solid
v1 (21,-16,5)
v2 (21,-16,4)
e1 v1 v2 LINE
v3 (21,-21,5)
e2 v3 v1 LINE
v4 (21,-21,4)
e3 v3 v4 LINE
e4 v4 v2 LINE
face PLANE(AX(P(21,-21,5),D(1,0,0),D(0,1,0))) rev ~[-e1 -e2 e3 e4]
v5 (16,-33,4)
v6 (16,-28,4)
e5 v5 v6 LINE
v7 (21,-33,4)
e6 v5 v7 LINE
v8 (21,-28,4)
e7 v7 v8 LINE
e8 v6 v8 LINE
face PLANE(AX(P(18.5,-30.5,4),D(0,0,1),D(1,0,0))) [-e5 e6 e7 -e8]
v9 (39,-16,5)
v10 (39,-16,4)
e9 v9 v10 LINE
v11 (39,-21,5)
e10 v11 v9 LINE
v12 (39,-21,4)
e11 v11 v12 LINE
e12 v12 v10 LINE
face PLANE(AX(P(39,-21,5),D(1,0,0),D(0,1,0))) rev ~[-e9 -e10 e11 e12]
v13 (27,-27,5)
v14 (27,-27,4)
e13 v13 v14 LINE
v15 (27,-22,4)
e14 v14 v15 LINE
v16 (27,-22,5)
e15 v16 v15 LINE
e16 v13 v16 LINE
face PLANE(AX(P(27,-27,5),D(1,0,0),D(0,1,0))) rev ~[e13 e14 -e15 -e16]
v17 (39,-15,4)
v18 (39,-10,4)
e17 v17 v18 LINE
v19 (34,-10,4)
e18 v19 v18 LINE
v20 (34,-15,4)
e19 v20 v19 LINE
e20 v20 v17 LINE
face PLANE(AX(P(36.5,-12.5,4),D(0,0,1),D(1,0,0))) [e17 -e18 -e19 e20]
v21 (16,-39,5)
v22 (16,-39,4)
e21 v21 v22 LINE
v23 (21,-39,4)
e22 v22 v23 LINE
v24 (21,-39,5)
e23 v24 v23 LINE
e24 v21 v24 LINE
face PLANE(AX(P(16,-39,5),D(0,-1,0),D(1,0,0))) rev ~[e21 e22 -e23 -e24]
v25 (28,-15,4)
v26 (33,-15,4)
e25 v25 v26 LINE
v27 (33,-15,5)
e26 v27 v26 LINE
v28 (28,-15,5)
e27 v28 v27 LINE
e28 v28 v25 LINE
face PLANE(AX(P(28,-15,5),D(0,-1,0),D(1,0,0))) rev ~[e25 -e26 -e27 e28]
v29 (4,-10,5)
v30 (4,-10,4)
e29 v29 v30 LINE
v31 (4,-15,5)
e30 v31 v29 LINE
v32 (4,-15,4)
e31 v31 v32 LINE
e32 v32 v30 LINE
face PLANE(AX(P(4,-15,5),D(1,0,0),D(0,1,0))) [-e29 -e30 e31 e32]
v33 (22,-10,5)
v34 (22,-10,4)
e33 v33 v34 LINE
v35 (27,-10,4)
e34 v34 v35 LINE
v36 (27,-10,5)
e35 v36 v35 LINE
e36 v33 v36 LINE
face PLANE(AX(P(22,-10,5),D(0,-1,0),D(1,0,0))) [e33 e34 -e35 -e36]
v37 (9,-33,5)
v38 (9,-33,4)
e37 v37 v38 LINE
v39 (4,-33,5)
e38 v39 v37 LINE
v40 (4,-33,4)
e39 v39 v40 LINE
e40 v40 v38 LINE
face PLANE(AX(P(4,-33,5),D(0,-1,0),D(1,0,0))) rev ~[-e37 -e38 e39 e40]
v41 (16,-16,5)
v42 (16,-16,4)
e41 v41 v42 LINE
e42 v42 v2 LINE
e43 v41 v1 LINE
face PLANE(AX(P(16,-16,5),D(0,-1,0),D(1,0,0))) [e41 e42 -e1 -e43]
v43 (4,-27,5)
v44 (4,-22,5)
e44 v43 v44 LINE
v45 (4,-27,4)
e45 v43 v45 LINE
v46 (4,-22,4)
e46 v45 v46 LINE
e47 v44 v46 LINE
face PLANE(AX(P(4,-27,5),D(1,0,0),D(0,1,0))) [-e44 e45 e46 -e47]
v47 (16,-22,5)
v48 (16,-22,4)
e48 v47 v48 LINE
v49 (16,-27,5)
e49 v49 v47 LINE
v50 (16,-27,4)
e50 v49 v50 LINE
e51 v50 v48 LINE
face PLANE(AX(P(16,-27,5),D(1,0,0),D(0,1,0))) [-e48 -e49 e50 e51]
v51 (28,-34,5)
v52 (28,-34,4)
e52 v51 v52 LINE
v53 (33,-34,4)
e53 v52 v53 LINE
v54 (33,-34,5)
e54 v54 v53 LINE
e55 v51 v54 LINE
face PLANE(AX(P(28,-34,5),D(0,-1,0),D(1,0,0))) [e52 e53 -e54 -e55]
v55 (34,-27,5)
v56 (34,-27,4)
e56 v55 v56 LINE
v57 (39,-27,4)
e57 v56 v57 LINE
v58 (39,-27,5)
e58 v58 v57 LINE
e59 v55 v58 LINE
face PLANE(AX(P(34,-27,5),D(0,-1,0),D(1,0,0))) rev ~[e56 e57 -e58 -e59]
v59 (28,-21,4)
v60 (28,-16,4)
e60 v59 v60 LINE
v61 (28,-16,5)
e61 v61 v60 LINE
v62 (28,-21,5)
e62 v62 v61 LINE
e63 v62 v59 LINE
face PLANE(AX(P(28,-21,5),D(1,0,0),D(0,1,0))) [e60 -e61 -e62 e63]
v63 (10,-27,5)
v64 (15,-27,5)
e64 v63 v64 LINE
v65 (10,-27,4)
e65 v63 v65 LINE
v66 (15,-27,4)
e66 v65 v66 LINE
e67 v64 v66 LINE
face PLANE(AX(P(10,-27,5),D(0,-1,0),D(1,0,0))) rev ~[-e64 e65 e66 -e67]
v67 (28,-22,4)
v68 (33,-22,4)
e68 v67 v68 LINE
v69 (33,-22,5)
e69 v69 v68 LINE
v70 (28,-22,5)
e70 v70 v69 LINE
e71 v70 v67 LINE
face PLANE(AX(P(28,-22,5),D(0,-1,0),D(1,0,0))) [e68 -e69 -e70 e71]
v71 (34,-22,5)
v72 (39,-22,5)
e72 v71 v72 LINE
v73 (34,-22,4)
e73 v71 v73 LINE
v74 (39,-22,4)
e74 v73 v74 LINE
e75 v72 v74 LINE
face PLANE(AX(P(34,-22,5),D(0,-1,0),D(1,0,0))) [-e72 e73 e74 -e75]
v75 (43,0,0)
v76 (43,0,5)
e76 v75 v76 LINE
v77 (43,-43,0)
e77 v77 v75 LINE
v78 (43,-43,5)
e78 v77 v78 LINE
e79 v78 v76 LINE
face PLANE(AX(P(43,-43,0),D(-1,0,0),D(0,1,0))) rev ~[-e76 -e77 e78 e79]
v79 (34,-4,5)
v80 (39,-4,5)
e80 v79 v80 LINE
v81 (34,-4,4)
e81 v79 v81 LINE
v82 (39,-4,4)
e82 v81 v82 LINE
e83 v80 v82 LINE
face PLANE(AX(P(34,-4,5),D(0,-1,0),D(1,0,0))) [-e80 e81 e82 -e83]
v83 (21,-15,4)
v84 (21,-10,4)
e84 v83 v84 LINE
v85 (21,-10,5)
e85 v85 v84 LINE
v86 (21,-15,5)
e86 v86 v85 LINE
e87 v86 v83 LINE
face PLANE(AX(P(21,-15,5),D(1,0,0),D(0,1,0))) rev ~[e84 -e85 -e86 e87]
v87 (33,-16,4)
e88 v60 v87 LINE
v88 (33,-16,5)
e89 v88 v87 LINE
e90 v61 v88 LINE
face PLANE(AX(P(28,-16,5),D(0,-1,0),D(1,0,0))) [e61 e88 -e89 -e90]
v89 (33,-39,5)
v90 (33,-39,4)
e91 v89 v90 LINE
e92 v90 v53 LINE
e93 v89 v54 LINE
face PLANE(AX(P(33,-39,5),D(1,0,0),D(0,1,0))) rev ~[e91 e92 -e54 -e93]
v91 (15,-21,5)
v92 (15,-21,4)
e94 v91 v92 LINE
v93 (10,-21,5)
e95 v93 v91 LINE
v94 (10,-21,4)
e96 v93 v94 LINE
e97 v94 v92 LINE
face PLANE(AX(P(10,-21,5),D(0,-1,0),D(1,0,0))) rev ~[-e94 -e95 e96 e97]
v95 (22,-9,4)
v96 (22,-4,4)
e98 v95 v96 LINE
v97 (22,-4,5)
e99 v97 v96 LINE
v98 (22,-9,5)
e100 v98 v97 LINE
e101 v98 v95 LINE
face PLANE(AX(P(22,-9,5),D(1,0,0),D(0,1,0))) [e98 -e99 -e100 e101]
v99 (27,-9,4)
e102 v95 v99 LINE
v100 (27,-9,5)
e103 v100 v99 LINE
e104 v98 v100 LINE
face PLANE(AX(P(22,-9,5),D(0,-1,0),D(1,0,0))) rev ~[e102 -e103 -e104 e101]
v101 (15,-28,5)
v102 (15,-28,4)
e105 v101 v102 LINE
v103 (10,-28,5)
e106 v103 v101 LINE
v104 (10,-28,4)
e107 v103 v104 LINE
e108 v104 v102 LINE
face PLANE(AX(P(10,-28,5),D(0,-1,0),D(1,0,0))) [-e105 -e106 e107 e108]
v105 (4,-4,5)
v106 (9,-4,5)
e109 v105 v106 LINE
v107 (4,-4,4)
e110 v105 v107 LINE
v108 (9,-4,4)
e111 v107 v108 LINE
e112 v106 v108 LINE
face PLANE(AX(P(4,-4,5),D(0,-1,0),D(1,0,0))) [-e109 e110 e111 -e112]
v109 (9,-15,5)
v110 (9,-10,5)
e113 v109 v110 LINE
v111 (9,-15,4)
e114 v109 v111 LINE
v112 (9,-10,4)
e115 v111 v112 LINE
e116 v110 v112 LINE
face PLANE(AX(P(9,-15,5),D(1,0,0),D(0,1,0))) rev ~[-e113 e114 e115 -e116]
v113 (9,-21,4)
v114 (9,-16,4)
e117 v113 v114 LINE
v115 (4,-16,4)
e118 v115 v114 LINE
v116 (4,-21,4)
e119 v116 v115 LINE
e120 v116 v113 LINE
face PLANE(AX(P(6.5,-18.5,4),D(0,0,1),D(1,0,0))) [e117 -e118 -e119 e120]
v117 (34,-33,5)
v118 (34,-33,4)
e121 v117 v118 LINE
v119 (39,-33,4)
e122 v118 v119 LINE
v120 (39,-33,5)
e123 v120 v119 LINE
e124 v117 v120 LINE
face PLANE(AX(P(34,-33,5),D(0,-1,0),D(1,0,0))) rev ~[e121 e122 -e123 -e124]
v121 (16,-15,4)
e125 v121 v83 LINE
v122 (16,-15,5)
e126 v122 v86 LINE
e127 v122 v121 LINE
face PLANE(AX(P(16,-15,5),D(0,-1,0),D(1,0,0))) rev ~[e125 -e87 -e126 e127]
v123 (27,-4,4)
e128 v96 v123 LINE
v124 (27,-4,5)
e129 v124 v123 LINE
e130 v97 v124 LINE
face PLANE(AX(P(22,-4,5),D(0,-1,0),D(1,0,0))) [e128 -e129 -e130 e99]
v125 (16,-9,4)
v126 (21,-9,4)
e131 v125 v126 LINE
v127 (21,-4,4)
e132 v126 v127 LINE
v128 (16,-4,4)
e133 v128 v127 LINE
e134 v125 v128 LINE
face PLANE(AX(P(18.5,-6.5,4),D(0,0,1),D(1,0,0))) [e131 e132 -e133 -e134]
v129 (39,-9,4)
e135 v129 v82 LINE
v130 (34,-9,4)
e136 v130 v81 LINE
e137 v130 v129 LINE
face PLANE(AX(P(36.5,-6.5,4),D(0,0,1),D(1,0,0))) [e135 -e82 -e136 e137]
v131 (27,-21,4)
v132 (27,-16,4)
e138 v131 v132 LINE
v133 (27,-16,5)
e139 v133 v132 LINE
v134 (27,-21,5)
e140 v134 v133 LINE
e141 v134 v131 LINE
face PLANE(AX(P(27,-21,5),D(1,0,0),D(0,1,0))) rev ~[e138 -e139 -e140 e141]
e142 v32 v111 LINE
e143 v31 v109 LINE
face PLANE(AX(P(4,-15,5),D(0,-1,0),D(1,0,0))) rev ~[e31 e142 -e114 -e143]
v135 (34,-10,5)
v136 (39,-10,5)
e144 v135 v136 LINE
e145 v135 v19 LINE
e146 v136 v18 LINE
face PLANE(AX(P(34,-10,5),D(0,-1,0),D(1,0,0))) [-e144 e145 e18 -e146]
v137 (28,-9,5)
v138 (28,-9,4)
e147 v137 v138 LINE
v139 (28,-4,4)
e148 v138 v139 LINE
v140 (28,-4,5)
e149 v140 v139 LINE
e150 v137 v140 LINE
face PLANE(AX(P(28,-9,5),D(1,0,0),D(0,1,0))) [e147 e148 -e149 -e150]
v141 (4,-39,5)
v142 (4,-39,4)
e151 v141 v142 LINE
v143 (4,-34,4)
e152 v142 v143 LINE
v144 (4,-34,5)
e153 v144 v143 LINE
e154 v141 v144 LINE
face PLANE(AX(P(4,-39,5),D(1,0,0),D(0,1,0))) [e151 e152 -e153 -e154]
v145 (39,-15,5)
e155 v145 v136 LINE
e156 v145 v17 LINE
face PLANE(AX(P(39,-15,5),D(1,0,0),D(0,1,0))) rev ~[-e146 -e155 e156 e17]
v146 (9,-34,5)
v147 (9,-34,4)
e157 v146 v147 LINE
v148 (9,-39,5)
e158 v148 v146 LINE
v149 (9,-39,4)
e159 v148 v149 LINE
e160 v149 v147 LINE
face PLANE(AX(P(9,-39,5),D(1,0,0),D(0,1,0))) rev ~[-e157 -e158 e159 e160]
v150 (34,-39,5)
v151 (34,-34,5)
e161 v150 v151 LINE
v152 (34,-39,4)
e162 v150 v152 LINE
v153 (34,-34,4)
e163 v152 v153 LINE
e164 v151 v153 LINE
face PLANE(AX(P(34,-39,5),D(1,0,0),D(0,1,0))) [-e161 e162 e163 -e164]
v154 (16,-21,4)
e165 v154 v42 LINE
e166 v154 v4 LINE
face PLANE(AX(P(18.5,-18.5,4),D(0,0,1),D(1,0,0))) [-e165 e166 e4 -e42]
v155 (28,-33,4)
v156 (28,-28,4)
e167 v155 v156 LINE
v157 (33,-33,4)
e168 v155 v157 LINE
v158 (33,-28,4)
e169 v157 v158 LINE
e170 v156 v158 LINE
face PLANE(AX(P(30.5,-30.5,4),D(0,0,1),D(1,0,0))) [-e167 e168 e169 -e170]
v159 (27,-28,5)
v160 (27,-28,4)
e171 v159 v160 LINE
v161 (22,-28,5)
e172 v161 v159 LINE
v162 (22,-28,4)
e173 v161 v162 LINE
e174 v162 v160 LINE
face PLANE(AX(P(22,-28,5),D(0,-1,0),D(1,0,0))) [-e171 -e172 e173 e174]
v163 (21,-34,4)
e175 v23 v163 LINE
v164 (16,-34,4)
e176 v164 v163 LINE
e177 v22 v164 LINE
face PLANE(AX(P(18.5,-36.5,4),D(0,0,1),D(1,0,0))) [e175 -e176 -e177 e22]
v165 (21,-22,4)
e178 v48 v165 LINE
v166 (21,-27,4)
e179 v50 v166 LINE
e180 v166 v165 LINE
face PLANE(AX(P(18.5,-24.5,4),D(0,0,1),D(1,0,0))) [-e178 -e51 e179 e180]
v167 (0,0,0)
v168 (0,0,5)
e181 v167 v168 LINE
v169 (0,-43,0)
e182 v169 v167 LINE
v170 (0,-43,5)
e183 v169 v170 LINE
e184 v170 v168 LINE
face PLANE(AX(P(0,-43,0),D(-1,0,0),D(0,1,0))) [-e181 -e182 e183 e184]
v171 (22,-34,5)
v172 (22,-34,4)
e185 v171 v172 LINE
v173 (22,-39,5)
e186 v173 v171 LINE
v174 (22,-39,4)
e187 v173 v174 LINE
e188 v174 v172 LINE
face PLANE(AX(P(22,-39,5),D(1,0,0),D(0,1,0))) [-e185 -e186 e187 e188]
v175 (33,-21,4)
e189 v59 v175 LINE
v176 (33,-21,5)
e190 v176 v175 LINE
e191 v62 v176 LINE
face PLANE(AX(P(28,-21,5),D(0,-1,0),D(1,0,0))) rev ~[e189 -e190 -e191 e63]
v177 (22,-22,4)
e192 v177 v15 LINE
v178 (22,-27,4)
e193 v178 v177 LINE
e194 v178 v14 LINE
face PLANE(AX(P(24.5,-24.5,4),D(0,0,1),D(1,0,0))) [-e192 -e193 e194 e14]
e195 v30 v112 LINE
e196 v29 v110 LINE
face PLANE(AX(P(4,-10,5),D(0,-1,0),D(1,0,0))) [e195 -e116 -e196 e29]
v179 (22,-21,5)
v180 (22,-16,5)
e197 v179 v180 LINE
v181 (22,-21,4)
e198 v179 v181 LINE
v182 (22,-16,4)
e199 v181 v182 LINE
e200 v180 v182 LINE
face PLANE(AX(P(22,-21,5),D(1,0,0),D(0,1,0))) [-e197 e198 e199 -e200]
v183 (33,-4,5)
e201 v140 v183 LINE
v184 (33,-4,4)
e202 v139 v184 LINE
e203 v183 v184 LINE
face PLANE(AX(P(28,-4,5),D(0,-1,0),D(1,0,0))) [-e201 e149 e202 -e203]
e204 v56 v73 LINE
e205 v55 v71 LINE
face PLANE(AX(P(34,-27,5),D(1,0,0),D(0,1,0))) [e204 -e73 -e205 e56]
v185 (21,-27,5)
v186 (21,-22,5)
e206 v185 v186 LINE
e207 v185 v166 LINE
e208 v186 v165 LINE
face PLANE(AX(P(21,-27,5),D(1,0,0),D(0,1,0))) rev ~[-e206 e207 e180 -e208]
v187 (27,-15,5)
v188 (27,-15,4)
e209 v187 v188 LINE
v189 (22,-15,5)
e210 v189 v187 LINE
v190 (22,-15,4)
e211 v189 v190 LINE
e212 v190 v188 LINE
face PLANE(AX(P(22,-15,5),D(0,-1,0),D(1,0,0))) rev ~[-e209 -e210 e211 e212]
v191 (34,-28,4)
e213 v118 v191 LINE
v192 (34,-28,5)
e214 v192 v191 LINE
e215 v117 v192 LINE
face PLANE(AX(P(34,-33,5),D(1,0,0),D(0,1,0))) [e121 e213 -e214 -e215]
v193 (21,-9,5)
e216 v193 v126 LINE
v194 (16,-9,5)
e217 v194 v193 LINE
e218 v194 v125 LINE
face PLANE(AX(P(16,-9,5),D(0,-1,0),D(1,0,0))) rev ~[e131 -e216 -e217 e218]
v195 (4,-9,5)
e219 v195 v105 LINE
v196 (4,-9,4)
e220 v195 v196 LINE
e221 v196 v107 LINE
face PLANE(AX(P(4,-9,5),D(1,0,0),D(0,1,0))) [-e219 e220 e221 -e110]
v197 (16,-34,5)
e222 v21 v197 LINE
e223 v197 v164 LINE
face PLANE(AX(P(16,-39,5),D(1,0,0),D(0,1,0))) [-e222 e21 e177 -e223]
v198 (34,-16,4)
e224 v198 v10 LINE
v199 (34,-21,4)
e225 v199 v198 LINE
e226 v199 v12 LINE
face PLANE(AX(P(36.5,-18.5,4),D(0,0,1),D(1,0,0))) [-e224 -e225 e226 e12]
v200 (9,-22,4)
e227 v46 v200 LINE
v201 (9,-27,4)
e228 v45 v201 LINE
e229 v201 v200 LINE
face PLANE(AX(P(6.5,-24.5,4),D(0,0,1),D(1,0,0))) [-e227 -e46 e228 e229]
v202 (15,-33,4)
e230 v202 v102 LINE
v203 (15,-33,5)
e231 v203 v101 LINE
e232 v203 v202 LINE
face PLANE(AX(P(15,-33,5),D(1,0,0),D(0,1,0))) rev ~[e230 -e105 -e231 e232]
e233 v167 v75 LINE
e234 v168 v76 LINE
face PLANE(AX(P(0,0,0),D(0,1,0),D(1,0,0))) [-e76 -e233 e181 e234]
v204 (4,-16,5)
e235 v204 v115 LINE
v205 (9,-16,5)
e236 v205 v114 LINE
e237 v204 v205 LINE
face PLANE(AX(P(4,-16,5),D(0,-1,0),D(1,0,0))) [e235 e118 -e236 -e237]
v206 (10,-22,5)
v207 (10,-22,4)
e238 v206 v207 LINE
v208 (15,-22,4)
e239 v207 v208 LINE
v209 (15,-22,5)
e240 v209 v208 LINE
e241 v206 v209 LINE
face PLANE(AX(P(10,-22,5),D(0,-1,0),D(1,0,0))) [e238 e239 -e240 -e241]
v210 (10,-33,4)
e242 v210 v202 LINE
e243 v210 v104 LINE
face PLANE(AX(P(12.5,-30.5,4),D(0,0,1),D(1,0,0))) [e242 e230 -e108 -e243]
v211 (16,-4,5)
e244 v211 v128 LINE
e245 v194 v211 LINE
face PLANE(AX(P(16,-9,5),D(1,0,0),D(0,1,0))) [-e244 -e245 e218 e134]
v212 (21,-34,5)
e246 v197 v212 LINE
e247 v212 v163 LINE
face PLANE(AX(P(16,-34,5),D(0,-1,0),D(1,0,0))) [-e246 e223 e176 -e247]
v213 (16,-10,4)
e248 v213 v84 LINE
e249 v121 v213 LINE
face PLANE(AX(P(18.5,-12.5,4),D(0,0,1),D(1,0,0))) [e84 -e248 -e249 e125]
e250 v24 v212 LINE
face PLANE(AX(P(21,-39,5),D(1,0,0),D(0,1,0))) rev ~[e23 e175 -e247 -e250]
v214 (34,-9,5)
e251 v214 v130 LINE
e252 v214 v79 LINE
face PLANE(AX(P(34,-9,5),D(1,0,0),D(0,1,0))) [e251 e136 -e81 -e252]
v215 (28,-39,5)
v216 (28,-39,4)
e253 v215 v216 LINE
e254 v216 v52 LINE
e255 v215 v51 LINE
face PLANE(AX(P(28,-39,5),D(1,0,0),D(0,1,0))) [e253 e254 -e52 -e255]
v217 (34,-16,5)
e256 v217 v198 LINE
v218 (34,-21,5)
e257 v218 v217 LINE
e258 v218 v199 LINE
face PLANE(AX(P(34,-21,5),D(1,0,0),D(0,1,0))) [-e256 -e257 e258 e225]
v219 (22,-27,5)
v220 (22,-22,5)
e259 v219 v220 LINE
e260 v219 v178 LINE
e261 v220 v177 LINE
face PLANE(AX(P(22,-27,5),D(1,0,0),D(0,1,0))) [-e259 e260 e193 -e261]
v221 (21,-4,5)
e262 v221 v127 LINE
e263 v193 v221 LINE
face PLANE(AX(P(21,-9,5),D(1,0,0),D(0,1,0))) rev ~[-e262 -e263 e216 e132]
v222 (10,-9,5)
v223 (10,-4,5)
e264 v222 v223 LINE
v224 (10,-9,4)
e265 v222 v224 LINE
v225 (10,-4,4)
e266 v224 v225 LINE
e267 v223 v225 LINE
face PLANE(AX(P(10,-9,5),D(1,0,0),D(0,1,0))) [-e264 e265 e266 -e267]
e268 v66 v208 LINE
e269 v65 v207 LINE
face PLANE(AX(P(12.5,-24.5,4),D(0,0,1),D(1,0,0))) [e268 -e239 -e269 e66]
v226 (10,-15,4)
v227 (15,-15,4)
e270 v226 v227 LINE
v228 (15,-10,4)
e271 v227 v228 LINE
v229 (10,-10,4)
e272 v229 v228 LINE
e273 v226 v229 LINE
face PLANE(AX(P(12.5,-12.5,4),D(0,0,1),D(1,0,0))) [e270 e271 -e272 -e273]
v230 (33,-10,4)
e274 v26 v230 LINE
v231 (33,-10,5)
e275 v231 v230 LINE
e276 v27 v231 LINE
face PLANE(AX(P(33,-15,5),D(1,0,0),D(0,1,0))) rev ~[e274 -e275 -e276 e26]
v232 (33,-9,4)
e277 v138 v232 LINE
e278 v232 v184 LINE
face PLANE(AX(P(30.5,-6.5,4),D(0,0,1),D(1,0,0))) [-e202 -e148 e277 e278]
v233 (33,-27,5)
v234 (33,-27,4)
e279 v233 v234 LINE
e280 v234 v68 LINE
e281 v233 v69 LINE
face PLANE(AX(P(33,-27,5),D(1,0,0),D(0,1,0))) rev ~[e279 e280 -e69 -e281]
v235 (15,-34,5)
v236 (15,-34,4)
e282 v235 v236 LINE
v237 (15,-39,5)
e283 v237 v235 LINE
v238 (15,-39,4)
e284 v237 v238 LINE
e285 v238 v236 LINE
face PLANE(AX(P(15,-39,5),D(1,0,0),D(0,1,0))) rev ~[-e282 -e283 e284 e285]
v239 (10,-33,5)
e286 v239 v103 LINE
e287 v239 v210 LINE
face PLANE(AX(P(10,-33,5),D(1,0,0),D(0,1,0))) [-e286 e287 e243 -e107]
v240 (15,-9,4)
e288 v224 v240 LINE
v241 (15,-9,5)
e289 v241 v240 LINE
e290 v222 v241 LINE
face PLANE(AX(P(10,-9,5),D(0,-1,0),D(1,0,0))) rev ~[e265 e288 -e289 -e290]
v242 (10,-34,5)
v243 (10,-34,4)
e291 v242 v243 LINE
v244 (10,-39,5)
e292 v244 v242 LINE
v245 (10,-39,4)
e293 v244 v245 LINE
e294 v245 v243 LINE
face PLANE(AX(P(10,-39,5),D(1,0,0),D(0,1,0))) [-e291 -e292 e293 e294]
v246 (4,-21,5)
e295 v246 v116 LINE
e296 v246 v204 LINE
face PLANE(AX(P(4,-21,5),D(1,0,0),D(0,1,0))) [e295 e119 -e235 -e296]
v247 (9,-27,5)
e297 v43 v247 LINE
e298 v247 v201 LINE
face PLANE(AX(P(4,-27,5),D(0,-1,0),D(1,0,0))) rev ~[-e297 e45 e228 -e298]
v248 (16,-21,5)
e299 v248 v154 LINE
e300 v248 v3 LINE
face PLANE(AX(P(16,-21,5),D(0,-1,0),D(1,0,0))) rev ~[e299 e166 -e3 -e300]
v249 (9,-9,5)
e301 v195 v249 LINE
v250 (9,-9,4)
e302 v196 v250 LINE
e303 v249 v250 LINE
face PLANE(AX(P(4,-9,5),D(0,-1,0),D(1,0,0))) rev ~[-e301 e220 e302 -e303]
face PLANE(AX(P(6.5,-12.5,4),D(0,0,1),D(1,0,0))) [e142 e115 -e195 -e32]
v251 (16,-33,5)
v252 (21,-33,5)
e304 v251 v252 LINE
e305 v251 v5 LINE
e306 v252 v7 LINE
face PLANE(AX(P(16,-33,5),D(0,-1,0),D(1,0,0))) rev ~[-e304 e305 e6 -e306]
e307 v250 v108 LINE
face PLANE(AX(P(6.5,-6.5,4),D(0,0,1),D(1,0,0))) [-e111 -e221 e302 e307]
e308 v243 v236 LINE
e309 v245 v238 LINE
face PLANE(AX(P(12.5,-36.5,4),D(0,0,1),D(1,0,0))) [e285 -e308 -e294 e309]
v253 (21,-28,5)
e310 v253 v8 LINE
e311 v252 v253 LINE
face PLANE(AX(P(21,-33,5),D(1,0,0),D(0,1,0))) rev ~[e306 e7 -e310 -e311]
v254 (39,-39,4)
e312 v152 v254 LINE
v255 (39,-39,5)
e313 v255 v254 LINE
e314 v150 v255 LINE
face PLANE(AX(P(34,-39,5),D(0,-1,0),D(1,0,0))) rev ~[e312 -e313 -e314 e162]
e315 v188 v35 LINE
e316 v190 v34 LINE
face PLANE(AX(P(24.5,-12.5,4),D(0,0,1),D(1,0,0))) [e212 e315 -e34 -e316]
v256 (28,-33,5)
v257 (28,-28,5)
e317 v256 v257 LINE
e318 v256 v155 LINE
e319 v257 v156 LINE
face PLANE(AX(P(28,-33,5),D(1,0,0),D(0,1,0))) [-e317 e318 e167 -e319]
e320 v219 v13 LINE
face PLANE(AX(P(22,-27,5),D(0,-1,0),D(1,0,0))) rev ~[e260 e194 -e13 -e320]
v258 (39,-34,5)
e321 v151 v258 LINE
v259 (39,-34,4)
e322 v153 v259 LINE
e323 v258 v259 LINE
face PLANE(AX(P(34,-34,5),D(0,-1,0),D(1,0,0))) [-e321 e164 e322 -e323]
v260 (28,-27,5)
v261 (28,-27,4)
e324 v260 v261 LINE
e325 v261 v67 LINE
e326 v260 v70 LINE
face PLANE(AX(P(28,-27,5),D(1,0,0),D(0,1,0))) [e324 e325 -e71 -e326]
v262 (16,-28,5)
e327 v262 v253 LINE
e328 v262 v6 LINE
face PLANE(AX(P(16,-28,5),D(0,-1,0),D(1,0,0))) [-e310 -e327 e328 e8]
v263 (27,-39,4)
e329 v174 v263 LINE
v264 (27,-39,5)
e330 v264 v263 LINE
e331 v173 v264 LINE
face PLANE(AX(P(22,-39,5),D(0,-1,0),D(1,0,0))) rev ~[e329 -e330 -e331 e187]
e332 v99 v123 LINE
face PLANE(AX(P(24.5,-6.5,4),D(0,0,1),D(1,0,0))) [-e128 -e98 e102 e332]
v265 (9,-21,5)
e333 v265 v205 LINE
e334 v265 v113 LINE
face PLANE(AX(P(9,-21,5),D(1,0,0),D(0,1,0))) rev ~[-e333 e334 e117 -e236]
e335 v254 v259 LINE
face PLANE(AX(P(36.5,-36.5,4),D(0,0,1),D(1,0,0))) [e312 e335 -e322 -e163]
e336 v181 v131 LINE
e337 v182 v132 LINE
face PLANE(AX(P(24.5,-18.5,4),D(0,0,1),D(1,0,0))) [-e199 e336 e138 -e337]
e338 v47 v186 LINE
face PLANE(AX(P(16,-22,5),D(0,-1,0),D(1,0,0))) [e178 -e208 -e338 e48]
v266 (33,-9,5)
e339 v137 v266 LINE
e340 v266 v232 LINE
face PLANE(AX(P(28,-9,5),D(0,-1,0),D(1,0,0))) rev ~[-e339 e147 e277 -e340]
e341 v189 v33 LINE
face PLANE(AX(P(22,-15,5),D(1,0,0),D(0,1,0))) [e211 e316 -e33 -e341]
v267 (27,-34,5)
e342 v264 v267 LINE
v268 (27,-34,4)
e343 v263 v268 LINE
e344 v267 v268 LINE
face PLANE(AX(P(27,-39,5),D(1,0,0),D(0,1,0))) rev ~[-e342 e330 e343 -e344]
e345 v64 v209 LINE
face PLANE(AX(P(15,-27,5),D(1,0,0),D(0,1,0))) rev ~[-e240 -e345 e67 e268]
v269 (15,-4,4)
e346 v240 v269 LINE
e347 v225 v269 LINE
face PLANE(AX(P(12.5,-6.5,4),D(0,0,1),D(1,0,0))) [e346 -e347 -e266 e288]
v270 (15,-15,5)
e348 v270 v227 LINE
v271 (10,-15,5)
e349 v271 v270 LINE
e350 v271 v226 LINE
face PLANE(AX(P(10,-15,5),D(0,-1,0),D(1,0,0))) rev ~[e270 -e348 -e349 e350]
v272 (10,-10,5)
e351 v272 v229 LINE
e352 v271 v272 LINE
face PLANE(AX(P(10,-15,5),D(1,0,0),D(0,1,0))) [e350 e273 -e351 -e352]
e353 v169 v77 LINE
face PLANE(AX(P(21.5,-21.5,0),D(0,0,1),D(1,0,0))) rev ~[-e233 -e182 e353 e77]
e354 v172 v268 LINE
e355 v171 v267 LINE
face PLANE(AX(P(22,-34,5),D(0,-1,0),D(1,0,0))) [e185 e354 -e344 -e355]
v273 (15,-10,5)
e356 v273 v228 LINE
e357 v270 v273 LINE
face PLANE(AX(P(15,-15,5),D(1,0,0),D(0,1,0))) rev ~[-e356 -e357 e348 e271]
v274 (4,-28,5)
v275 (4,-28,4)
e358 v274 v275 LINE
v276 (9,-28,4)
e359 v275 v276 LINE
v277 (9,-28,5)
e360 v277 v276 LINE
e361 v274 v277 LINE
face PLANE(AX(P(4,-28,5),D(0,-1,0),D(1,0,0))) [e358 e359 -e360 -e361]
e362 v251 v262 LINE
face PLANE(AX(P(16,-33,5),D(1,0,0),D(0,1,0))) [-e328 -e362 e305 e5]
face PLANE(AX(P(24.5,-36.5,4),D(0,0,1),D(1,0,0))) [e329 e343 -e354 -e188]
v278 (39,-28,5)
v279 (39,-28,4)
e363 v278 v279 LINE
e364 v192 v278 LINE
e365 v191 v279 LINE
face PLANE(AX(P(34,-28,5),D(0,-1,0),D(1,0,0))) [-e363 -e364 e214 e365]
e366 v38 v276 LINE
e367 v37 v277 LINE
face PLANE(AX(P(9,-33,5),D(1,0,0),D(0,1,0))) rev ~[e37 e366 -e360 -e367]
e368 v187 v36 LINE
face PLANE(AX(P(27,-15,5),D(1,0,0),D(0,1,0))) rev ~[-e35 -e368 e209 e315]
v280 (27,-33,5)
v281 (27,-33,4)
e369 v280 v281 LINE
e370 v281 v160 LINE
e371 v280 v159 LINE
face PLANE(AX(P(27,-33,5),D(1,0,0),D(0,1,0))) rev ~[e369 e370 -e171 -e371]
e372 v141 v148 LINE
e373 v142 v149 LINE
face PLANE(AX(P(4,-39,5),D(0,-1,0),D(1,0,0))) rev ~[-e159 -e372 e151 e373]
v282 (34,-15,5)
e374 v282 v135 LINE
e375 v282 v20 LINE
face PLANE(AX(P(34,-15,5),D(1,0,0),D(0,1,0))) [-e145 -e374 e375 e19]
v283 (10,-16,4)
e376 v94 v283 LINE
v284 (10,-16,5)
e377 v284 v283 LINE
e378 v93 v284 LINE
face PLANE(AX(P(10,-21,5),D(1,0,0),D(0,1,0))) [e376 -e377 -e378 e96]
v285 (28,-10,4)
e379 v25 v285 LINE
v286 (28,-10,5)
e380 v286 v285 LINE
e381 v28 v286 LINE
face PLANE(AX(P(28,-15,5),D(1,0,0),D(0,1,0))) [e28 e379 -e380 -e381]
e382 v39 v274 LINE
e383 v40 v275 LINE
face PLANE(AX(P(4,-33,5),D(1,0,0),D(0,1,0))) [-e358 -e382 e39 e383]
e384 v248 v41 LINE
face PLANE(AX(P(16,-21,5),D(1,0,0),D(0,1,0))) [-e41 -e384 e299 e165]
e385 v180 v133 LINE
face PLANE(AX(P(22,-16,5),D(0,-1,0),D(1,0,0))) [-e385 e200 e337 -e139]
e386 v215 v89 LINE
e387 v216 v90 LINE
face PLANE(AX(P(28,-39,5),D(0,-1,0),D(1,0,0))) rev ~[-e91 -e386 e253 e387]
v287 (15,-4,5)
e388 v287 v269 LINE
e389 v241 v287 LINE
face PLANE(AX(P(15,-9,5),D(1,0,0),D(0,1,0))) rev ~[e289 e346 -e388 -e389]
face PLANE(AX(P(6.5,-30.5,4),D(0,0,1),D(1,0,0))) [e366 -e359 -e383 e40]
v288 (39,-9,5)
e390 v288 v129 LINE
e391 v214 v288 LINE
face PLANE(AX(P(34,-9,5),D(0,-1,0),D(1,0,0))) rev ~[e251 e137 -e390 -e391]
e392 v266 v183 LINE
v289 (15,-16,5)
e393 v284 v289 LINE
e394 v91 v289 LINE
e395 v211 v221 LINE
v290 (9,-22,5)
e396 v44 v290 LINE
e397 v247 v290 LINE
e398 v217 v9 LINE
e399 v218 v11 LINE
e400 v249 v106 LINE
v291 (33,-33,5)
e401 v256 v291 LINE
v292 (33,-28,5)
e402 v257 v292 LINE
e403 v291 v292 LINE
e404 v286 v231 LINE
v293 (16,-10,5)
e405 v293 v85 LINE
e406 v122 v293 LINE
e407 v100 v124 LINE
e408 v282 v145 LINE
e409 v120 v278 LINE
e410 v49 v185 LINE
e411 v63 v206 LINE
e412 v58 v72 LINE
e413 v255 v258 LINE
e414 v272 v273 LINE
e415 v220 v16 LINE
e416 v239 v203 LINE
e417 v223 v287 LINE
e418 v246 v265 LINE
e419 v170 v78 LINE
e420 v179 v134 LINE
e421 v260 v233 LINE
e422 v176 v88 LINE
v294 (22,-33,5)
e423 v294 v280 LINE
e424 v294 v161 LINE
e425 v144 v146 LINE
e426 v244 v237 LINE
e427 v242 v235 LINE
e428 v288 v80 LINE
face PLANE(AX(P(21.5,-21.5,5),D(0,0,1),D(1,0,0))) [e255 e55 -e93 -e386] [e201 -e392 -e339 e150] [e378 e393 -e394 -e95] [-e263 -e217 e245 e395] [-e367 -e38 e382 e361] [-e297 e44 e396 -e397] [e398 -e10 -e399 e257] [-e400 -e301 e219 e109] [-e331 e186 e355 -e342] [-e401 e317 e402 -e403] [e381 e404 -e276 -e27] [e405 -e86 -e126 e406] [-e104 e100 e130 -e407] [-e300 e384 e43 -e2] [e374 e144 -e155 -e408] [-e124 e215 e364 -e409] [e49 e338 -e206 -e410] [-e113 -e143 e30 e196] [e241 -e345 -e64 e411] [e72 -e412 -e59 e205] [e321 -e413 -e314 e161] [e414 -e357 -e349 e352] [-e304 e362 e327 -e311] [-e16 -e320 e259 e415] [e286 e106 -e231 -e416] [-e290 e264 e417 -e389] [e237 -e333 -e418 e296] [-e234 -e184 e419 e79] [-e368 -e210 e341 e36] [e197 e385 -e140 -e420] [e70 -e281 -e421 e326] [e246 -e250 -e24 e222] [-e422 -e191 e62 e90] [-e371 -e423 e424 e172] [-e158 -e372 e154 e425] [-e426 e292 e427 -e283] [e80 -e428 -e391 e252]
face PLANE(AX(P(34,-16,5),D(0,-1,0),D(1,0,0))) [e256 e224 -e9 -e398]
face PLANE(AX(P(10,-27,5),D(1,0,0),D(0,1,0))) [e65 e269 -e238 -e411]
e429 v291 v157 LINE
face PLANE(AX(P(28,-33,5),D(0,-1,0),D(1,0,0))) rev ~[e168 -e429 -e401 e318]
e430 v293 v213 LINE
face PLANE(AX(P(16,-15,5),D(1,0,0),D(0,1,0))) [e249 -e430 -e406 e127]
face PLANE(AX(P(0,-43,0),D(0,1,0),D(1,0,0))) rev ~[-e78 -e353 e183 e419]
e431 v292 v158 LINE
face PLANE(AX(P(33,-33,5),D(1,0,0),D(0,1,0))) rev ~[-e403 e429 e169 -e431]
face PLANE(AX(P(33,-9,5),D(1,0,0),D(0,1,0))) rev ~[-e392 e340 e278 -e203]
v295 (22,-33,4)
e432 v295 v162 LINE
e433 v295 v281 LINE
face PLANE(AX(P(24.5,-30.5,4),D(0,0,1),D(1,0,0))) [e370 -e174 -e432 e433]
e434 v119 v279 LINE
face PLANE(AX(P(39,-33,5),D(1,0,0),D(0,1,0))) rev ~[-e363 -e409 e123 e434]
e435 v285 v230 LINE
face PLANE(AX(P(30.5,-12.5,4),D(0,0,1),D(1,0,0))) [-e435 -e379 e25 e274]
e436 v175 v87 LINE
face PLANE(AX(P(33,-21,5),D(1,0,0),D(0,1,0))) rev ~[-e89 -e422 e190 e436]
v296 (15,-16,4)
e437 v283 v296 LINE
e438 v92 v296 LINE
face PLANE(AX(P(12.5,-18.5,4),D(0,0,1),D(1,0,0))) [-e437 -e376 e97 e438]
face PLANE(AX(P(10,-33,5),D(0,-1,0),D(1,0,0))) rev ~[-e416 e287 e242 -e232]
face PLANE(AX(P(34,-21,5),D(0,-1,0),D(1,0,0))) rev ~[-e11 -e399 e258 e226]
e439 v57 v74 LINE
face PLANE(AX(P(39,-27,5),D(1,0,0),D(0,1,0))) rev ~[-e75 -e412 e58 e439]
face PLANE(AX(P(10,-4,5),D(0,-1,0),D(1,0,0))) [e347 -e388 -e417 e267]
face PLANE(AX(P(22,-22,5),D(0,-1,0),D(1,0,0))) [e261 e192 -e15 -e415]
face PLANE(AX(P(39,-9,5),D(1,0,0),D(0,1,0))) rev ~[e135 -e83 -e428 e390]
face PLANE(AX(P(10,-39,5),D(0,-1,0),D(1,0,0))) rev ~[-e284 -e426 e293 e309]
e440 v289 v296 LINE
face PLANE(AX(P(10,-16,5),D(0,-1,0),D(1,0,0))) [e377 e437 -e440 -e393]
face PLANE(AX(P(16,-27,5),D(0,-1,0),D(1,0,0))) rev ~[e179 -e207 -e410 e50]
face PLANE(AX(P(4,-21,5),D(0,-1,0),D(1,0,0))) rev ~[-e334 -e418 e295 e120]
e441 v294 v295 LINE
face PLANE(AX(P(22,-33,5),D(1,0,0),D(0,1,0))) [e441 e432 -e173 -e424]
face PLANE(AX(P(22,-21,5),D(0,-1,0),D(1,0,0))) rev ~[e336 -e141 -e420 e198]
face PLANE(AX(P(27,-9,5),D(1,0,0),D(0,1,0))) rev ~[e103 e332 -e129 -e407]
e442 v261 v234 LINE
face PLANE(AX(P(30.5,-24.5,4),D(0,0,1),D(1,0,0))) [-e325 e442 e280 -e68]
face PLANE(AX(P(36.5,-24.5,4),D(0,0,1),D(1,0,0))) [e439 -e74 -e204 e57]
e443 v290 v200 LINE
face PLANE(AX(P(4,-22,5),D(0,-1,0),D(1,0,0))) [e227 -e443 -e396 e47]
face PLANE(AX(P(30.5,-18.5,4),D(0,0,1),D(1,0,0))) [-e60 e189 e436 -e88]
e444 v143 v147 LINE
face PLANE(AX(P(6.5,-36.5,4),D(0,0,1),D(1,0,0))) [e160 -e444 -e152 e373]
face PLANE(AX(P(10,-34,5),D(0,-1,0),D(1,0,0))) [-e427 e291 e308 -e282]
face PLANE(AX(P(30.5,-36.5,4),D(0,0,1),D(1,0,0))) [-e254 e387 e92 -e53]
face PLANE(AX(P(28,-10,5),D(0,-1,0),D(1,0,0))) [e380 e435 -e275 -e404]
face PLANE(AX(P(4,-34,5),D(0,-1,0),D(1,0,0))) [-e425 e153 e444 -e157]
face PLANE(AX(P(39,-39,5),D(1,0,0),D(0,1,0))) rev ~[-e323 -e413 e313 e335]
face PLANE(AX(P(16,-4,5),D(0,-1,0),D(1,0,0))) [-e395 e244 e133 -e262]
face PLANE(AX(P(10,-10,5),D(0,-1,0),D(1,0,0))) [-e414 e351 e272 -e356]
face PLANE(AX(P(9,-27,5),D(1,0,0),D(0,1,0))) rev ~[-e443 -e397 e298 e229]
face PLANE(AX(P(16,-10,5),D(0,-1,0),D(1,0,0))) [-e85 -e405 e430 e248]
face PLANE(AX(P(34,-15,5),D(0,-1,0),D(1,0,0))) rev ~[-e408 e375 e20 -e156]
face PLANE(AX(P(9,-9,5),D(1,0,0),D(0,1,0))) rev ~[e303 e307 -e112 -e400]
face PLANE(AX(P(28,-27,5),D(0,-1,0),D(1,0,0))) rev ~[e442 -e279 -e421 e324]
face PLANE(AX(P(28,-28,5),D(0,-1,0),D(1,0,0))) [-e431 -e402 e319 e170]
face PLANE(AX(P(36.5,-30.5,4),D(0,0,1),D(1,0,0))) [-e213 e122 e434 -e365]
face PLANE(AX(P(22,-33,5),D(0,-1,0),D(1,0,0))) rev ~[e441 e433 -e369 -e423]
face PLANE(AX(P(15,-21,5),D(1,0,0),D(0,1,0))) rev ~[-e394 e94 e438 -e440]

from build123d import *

# Parameters (mm, degrees)
F0_W     = 43
F0_H     = 43
F1_DEPTH = 5
F2_W     = 5
F2_H     = 5
F3_DEPTH = 1


with BuildPart() as f1:
    # F0 (on Top) → F1 (new body)
    with BuildSketch(Plane.XY):
        with Locations((21.5, -21.5)):
            Rectangle(F0_W, F0_H)
    extrude(amount=F1_DEPTH)

    # F2 (on face) → F3 (cut)
    with BuildSketch(Plane.XY.offset(5)):
        with Locations((6.5, -6.5)):
            Rectangle(F2_W, F2_H)
        with Locations((6.5, -12.5)):
            Rectangle(F2_W, F2_H)
        with Locations((6.5, -18.5)):
            Rectangle(F2_W, F2_H)
        with Locations((6.5, -24.5)):
            Rectangle(F2_W, F2_H)
        with Locations((18.5, -6.5)):
            Rectangle(F2_W, F2_H)
        with Locations((18.5, -12.5)):
            Rectangle(F2_W, F2_H)
        with Locations((18.5, -18.5)):
            Rectangle(F2_W, F2_H)
        with Locations((30.5, -24.5)):
            Rectangle(F2_W, F2_H)
        with Locations((30.5, -30.5)):
            Rectangle(F2_W, F2_H)
        with Locations((30.5, -36.5)):
            Rectangle(F2_W, F2_H)
        with Locations((36.5, -6.5)):
            Rectangle(F2_W, F2_H)
        with Locations((36.5, -12.5)):
            Rectangle(F2_W, F2_H)
        with Locations((36.5, -18.5)):
            Rectangle(F2_W, F2_H)
        with Locations((36.5, -36.5)):
            Rectangle(F2_W, F2_H)
        with Locations((36.5, -30.5)):
            Rectangle(F2_W, F2_H)
        with Locations((36.5, -24.5)):
            Rectangle(F2_W, F2_H)
        with Locations((30.5, -18.5)):
            Rectangle(F2_W, F2_H)
        with Locations((30.5, -12.5)):
            Rectangle(F2_W, F2_H)
        with Locations((30.5, -6.5)):
            Rectangle(F2_W, F2_H)
        with Locations((24.5, -36.5)):
            Rectangle(F2_W, F2_H)
        with Locations((24.5, -30.5)):
            Rectangle(F2_W, F2_H)
        with Locations((24.5, -24.5)):
            Rectangle(F2_W, F2_H)
        with Locations((24.5, -18.5)):
            Rectangle(F2_W, F2_H)
        with Locations((24.5, -12.5)):
            Rectangle(F2_W, F2_H)
        with Locations((24.5, -6.5)):
            Rectangle(F2_W, F2_H)
        with Locations((18.5, -36.5)):
            Rectangle(F2_W, F2_H)
        with Locations((18.5, -30.5)):
            Rectangle(F2_W, F2_H)
        with Locations((12.5, -36.5)):
            Rectangle(F2_W, F2_H)
        with Locations((6.5, -36.5)):
            Rectangle(F2_W, F2_H)
        with Locations((6.5, -30.5)):
            Rectangle(F2_W, F2_H)
        with Locations((12.5, -30.5)):
            Rectangle(F2_W, F2_H)
        with Locations((12.5, -24.5)):
            Rectangle(F2_W, F2_H)
        with Locations((18.5, -24.5)):
            Rectangle(F2_W, F2_H)
        with Locations((12.5, -18.5)):
            Rectangle(F2_W, F2_H)
        with Locations((12.5, -12.5)):
            Rectangle(F2_W, F2_H)
        with Locations((12.5, -6.5)):
            Rectangle(F2_W, F2_H)
    extrude(amount=-F3_DEPTH, mode=Mode.SUBTRACT)


solid = f1.part
